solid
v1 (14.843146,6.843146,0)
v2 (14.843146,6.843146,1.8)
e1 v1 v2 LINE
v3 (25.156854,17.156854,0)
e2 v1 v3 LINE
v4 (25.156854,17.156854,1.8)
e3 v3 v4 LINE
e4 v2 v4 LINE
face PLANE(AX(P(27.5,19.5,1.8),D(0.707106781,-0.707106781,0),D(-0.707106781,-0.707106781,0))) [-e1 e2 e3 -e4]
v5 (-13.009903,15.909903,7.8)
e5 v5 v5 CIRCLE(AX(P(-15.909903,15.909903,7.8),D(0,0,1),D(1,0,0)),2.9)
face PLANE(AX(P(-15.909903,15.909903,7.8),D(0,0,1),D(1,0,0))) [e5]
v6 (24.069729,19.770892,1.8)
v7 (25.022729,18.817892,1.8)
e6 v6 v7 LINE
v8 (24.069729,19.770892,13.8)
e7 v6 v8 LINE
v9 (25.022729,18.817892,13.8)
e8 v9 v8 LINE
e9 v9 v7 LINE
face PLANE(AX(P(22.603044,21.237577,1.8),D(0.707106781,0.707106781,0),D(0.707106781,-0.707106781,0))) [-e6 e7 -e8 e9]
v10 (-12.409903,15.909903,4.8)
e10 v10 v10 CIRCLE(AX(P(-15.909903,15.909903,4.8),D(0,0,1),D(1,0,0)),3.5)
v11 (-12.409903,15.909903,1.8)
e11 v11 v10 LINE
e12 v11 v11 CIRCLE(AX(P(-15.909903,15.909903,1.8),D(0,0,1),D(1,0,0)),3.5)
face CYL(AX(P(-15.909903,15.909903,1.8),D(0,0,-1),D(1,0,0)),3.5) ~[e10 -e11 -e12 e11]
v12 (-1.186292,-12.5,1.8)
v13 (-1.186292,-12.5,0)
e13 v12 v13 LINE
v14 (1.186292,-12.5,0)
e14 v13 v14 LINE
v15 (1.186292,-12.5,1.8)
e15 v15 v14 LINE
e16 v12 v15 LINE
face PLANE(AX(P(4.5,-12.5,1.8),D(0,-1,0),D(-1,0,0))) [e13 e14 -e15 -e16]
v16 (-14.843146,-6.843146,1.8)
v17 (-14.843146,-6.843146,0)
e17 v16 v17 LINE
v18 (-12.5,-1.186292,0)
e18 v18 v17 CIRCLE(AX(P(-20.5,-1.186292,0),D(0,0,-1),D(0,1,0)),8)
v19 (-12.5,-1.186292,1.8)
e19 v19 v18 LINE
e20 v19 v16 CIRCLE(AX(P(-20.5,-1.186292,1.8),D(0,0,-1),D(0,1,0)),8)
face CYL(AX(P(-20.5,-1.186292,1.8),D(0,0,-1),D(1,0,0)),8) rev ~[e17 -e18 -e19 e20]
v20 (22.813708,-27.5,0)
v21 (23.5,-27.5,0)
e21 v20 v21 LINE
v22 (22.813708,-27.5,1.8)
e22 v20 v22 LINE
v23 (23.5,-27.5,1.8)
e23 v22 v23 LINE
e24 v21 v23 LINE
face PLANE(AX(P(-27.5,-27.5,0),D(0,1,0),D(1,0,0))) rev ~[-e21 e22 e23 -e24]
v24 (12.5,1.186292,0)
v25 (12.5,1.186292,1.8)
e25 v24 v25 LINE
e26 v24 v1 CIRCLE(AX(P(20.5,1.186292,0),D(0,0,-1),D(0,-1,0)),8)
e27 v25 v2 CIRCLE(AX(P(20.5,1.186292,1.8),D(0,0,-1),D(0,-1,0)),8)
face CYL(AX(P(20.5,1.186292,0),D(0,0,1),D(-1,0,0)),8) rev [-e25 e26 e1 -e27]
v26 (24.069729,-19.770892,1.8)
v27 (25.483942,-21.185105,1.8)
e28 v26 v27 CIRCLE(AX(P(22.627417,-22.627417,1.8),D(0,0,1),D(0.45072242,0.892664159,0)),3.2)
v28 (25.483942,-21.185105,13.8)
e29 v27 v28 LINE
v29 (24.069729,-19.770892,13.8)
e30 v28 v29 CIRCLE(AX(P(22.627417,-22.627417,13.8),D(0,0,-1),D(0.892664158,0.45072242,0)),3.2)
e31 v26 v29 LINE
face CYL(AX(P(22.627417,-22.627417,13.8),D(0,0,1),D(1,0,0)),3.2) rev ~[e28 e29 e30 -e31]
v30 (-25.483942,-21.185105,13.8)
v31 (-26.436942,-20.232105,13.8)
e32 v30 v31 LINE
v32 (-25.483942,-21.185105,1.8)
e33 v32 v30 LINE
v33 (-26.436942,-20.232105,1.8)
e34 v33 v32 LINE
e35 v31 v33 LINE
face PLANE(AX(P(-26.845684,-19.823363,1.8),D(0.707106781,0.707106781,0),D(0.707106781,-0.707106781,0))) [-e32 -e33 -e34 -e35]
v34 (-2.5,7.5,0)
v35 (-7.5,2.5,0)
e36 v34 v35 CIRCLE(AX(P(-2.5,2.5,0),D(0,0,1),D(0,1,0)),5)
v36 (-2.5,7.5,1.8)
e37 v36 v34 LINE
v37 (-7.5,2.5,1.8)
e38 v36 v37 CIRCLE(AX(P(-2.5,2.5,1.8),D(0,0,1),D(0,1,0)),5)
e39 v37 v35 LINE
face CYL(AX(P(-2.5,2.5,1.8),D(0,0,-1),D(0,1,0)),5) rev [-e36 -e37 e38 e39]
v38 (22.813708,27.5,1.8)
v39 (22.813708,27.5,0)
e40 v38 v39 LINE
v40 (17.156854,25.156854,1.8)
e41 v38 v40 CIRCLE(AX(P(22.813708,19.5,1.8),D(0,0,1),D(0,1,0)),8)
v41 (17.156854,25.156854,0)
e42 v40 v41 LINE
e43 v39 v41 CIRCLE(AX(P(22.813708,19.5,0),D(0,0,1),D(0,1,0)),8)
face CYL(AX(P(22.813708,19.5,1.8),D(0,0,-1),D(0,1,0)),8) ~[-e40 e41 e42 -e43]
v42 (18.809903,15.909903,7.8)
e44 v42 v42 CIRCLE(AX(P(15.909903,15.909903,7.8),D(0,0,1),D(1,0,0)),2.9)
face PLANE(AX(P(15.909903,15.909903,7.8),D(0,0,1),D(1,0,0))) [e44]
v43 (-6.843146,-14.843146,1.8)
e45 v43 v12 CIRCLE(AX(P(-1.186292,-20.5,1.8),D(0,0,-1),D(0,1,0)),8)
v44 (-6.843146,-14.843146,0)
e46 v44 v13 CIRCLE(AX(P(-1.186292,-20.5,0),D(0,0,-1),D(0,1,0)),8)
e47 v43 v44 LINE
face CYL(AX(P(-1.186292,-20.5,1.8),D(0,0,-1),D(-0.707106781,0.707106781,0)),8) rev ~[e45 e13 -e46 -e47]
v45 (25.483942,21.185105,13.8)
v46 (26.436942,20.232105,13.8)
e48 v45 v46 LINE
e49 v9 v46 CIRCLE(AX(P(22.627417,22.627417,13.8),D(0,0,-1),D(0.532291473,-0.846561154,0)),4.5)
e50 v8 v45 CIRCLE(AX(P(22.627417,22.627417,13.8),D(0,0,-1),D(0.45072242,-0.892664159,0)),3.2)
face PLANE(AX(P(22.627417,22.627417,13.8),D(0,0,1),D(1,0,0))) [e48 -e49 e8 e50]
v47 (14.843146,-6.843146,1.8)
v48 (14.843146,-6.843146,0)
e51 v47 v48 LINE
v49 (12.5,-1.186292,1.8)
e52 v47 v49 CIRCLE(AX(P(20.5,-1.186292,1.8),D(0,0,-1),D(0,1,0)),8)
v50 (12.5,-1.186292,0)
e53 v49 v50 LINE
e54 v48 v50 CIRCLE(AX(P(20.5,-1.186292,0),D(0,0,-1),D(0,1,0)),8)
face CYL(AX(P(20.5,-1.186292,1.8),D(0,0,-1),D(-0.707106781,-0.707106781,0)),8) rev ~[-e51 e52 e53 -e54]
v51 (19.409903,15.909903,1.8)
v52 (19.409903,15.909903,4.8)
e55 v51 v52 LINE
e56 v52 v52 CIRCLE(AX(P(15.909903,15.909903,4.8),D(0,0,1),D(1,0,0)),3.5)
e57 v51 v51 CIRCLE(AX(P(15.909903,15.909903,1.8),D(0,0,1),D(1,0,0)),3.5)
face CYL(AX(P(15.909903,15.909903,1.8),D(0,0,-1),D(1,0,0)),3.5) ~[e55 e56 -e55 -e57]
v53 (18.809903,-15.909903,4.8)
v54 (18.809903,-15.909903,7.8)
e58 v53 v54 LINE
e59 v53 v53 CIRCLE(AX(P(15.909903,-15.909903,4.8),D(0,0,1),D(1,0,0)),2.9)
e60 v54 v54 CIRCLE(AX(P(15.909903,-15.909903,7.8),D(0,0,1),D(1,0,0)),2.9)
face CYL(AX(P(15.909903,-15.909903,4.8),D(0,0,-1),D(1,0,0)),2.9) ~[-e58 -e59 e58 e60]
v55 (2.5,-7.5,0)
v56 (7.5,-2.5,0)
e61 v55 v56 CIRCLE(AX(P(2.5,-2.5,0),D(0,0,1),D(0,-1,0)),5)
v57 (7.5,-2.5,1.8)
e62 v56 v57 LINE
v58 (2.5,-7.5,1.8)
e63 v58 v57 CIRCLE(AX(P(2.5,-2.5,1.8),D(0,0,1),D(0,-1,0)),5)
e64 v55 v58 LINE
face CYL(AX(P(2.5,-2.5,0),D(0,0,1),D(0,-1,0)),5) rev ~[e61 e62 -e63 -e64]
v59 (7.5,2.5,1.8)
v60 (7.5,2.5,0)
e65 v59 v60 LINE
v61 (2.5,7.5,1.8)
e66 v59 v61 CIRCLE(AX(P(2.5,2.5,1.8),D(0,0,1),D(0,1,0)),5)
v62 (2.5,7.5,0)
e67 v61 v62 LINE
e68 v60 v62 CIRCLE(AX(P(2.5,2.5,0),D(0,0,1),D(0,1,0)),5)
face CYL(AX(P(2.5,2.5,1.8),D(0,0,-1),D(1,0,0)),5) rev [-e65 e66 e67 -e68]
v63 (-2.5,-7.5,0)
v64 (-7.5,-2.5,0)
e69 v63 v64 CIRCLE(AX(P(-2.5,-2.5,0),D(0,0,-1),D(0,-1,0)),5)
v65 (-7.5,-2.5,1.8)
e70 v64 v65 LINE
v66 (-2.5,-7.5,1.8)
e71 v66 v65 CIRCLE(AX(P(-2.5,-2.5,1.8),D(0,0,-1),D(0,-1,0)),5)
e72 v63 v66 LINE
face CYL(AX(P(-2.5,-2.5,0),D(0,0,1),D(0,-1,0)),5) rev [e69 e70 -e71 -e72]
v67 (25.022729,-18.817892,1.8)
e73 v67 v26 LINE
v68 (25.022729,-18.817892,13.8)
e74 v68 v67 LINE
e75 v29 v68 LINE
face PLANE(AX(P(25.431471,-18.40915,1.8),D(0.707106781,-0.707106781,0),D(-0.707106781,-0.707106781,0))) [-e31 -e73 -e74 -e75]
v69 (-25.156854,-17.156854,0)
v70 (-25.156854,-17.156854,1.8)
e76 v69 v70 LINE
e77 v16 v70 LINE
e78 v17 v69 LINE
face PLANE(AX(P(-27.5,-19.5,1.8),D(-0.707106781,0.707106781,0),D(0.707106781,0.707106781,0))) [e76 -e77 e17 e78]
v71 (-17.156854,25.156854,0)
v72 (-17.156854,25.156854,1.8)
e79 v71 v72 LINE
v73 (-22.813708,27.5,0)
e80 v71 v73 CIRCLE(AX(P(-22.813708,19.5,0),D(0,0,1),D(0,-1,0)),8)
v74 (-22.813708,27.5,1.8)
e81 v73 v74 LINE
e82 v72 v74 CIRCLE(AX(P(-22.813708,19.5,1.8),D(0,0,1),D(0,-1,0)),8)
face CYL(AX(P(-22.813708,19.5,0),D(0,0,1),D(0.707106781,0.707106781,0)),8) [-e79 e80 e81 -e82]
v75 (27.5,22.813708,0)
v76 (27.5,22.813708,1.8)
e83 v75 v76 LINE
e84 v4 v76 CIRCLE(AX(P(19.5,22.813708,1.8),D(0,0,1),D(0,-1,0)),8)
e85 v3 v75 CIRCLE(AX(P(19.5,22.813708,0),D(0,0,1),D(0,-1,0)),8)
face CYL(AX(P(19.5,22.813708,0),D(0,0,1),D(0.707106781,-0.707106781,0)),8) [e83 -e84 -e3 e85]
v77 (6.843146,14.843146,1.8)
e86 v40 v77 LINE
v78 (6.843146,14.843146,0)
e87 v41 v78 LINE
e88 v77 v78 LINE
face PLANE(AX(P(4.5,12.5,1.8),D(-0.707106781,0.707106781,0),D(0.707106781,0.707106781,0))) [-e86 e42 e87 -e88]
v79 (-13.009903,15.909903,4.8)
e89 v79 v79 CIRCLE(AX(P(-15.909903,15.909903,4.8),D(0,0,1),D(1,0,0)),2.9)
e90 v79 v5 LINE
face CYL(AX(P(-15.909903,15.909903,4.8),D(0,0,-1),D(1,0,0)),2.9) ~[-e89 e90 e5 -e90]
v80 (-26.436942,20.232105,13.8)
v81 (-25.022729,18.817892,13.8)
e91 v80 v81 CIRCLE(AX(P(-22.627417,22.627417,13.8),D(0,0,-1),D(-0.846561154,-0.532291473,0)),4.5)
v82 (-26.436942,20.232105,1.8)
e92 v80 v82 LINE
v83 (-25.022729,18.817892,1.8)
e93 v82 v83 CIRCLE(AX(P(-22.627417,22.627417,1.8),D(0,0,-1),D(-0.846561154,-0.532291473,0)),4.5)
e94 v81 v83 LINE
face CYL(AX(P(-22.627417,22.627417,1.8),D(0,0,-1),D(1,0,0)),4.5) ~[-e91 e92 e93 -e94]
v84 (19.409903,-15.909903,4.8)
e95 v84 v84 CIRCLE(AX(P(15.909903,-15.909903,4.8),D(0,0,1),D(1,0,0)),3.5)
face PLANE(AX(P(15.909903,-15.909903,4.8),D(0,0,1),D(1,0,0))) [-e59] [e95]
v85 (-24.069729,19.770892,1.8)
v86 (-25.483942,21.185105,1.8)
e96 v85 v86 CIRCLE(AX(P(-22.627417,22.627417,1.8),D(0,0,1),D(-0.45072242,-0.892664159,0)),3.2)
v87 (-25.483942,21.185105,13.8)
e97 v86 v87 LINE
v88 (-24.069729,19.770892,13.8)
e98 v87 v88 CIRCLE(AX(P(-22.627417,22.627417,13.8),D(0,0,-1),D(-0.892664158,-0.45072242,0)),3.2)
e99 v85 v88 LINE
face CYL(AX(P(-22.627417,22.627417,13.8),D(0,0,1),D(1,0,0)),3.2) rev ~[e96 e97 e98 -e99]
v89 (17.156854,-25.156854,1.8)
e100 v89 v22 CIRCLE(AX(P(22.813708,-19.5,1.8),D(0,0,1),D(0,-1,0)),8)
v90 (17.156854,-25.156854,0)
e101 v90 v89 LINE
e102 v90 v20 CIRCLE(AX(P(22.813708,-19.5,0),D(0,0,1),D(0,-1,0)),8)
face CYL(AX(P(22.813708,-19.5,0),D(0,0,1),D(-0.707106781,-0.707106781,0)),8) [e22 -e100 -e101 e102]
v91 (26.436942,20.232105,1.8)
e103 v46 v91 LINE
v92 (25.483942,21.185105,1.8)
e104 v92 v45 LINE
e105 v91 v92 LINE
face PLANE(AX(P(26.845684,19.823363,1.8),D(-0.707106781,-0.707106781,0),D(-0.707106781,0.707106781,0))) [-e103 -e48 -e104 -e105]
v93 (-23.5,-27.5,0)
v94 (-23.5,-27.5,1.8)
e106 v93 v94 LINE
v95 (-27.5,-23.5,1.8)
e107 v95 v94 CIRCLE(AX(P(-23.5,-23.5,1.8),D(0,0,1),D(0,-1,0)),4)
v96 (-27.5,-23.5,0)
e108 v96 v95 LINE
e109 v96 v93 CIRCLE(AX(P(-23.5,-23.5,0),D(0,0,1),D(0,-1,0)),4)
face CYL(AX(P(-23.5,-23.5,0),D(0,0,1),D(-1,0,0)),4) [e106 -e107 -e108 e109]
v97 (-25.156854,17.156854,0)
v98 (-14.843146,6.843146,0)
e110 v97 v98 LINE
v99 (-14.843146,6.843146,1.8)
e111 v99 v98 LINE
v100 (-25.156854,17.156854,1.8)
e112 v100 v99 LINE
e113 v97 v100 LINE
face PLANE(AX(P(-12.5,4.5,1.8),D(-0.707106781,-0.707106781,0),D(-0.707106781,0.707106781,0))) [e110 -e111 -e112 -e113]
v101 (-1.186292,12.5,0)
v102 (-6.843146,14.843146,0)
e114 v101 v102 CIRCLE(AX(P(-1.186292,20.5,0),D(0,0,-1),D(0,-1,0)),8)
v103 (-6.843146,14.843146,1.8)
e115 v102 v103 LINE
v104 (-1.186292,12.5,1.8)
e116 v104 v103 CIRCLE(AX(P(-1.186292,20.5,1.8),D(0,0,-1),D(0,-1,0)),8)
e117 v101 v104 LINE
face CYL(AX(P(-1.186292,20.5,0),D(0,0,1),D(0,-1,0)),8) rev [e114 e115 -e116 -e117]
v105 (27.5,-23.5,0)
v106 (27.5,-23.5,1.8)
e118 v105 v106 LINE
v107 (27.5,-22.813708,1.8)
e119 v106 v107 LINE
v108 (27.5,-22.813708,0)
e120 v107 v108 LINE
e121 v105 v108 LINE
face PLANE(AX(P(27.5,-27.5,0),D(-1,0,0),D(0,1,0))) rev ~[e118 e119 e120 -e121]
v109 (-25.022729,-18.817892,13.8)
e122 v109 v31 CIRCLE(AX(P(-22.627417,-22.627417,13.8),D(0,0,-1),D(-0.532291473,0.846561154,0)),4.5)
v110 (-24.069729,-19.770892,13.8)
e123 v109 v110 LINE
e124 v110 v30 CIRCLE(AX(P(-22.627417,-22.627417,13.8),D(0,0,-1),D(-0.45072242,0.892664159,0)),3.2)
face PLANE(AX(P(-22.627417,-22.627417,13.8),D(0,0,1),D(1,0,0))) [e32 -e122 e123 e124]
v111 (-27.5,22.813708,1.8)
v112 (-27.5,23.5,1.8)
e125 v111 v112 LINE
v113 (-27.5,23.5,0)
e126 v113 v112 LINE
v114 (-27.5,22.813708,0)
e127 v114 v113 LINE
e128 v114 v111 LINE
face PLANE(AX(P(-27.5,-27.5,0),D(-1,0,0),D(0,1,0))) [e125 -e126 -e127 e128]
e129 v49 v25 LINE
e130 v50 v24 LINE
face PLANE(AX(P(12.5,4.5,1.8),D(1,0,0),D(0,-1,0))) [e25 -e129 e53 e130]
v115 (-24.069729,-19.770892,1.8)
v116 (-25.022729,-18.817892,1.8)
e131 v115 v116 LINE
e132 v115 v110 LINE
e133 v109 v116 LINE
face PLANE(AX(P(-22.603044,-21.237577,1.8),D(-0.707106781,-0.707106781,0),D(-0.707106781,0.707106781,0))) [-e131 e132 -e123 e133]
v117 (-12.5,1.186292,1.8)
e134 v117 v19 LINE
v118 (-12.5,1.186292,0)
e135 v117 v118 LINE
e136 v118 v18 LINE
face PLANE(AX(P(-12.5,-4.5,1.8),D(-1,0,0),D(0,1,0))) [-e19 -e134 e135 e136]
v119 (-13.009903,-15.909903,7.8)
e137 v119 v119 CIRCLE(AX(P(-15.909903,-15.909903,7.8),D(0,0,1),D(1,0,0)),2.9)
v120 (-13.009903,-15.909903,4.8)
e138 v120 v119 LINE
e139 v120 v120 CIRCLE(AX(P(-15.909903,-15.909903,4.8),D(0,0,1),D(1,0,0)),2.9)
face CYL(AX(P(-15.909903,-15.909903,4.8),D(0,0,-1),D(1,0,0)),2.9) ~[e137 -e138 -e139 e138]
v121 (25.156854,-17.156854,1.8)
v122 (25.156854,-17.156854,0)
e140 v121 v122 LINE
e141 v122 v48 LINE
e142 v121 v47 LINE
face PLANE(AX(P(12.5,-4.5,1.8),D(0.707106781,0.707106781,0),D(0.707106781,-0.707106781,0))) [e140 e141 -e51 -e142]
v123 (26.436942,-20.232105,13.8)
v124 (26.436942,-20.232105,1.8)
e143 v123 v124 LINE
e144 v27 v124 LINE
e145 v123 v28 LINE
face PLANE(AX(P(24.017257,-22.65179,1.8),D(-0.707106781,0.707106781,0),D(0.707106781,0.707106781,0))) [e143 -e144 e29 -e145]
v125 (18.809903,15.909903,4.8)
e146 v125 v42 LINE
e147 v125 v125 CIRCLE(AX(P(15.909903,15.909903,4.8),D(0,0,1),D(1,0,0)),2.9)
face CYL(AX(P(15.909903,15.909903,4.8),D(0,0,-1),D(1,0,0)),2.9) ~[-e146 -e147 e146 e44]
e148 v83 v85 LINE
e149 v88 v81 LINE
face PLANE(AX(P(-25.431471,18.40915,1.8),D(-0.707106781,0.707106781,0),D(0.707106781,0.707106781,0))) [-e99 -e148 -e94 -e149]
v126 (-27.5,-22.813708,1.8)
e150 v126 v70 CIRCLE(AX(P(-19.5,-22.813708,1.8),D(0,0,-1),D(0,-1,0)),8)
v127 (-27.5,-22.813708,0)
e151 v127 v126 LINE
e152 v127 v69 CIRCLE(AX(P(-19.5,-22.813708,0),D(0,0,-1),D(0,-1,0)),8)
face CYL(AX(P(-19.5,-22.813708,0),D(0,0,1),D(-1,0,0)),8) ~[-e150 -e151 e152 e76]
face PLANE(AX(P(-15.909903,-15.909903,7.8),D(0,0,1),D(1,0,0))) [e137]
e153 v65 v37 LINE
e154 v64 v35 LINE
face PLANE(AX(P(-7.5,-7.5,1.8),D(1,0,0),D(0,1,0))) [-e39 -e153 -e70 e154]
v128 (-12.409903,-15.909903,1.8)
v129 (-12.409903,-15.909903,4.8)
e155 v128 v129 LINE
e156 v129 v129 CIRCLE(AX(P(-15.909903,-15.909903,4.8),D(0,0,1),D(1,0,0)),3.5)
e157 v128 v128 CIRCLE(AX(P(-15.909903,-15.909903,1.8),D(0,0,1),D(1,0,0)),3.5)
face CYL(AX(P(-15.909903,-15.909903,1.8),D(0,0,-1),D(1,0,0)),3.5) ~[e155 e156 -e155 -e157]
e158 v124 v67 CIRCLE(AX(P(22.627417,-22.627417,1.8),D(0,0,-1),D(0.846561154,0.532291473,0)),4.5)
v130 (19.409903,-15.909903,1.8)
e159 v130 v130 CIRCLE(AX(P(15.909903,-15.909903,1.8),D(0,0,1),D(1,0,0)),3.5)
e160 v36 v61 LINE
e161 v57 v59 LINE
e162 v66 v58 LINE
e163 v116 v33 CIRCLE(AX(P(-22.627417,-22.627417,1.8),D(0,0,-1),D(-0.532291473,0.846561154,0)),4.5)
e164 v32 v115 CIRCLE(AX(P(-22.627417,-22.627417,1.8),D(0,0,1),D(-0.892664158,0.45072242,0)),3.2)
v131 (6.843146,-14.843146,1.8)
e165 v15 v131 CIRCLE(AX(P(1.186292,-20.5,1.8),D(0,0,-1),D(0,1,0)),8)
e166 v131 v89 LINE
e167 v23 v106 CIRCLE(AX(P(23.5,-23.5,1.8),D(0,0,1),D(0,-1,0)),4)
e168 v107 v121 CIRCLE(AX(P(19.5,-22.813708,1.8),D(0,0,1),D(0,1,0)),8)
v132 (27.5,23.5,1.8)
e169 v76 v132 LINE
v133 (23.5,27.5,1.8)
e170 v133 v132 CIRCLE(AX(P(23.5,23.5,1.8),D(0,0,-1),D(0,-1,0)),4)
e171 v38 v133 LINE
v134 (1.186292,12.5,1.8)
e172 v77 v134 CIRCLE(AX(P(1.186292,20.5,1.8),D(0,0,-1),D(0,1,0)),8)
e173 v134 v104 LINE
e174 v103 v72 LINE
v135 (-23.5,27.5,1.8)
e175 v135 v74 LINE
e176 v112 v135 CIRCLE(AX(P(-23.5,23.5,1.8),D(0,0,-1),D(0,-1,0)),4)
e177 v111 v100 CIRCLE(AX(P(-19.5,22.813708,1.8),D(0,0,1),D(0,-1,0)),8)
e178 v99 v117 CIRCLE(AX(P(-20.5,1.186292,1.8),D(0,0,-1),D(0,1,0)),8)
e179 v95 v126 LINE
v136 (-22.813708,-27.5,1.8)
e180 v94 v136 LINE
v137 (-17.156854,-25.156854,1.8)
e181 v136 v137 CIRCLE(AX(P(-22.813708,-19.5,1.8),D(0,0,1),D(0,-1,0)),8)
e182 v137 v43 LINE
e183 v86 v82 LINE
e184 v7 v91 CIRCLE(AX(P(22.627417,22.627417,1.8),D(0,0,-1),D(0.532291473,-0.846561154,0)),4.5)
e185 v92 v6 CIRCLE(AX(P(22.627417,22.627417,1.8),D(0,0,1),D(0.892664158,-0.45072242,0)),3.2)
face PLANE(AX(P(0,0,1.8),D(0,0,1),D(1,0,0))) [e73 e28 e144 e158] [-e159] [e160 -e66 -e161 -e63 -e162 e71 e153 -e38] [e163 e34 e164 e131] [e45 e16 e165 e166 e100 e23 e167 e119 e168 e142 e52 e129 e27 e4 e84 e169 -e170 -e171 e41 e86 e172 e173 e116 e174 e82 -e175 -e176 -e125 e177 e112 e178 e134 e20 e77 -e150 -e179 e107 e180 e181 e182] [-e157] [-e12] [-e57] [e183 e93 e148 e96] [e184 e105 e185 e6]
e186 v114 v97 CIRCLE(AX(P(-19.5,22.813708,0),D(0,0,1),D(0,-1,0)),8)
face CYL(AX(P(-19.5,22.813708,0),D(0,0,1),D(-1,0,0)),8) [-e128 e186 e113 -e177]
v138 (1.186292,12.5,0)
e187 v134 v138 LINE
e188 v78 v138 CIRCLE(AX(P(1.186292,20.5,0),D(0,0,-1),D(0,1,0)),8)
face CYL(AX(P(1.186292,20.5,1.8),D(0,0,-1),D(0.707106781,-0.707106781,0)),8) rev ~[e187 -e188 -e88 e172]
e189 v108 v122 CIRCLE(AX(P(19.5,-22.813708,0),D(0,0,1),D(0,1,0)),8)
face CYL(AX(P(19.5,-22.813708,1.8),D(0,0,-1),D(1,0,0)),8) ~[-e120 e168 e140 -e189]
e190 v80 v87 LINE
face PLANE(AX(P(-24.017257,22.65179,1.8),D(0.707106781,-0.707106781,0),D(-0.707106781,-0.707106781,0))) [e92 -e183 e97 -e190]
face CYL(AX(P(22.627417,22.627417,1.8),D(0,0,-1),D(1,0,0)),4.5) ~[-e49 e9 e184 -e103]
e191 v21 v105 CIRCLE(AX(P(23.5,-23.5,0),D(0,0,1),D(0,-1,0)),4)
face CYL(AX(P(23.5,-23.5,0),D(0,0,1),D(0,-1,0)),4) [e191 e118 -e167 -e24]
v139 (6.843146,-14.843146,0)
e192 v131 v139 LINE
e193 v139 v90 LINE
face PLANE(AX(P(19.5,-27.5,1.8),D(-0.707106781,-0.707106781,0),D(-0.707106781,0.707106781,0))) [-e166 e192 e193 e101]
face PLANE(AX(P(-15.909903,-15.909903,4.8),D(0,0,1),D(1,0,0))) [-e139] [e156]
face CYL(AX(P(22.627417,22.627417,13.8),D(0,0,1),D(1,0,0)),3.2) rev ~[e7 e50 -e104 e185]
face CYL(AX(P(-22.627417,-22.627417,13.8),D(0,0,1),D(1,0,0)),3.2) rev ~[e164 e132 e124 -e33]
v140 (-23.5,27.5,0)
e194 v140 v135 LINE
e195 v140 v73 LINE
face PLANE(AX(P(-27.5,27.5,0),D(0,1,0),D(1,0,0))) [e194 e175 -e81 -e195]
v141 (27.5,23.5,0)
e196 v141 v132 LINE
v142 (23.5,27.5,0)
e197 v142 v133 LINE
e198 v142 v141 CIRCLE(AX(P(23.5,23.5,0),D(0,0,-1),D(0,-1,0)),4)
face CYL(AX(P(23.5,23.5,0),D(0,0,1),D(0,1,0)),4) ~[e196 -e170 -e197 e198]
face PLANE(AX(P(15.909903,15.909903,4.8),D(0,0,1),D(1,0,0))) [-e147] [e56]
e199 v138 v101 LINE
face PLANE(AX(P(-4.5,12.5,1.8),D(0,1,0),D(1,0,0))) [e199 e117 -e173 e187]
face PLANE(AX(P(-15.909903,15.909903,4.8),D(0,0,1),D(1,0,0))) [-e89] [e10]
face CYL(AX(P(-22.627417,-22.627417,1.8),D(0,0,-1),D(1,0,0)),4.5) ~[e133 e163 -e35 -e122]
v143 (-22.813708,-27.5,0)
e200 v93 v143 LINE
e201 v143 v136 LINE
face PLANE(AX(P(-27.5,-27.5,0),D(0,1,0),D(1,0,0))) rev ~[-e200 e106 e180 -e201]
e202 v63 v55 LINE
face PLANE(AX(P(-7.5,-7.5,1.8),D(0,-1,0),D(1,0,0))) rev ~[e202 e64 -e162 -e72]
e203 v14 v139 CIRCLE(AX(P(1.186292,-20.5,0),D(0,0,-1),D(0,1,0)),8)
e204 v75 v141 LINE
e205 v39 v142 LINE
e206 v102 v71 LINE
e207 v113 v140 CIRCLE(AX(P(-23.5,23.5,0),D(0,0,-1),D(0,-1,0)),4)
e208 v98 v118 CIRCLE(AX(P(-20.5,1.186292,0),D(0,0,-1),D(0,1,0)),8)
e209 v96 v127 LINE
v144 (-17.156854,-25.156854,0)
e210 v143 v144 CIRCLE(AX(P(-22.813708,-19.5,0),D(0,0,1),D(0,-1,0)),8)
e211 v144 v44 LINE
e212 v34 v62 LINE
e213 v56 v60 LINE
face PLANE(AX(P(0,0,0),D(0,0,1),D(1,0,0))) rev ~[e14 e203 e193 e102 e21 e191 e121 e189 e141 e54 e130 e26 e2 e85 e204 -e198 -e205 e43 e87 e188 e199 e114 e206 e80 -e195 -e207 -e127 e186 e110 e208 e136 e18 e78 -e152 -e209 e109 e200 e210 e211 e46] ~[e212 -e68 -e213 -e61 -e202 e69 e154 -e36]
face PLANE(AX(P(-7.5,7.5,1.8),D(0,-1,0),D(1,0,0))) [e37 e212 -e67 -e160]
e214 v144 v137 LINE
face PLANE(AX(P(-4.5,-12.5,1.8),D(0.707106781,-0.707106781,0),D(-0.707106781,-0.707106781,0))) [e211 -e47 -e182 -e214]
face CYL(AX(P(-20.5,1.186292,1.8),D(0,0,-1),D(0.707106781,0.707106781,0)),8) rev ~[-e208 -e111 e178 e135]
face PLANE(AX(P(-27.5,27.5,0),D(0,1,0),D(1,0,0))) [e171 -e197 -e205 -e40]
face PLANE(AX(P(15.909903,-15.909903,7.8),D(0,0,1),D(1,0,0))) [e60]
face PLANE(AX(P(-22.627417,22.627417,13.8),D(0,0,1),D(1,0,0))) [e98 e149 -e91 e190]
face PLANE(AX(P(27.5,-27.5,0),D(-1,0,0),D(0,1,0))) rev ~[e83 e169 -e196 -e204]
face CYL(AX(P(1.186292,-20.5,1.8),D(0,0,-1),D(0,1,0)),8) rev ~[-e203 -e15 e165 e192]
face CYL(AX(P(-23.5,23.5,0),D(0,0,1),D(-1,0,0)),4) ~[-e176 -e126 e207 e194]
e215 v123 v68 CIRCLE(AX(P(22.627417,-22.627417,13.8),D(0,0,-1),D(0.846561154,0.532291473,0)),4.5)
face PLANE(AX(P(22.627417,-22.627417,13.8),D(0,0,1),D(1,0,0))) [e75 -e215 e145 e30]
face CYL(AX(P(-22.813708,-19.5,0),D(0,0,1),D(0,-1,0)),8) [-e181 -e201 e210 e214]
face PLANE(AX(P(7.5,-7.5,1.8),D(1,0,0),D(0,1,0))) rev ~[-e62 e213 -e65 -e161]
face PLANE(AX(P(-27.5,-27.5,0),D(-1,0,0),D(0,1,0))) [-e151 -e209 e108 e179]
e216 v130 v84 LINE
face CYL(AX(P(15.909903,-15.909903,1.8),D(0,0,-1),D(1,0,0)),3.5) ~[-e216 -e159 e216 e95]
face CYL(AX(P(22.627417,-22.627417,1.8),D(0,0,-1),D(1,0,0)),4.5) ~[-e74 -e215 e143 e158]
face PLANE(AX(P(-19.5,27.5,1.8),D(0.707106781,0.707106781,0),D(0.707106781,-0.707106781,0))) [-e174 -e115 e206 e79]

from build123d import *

# Parameters (mm, degrees)
F0_W      = 55
F0_H      = 55
F1_DEPTH  = 1.8
F2_R      = 3.5
F3_DEPTH  = 3
F4_R      = 2.9
F5_DEPTH  = 3
F6_R      = 4.5
F7_DEPTH  = 12
F8_R      = 3.2
F9_DEPTH  = 12
F10_R     = 4
F11_W     = 15
F11_H     = 15
F12_DEPTH = 20
F14_DEPTH = 25
F15_R     = 8
F16_R     = 5


with BuildPart() as f1:
    # F0 (on Top) → F1 (new body)
    with BuildSketch(Plane.XY):
        Rectangle(F0_W, F0_H)
    extrude(amount=F1_DEPTH)

    # F2 (on face) → F3 (join)
    with BuildSketch(Plane.XY.offset(1.8)):
        with Locations((-15.9099025767, 15.9099025767)):
            Circle(F2_R)
        with Locations((15.9099025767, 15.9099025767)):
            Circle(F2_R)
        with Locations((-15.9099025767, -15.9099025767)):
            Circle(F2_R)
        with Locations((15.9099025767, -15.9099025767)):
            Circle(F2_R)
    extrude(amount=F3_DEPTH)

    # F4 (on face) → F5 (join)
    with BuildSketch(Plane.XY.offset(4.8)):
        with Locations((-15.9099025767, 15.9099025767)):
            Circle(F4_R)
        with Locations((15.9099025767, 15.9099025767)):
            Circle(F4_R)
        with Locations((-15.9099025767, -15.9099025767)):
            Circle(F4_R)
        with Locations((15.9099025767, -15.9099025767)):
            Circle(F4_R)
    extrude(amount=F5_DEPTH)

    # F6 (on face) → F7 (join)
    with BuildSketch(Plane.XY.offset(1.8)):
        with Locations((-22.627416998, 22.627416998)):
            Circle(F6_R)
        with Locations((22.627416998, 22.627416998)):
            Circle(F6_R)
        with Locations((22.627416998, -22.627416998)):
            Circle(F6_R)
        with Locations((-22.627416998, -22.627416998)):
            Circle(F6_R)
    extrude(amount=F7_DEPTH)

    # F8 (on face) → F9 (cut)
    with BuildSketch(Plane.XY.offset(13.8)):
        with Locations((-22.627416998, -22.627416998)):
            Circle(F8_R)
        with Locations((22.627416998, -22.627416998)):
            Circle(F8_R)
        with Locations((-22.627416998, 22.627416998)):
            Circle(F8_R)
        with Locations((22.627416998, 22.627416998)):
            Circle(F8_R)
    extrude(amount=-F9_DEPTH, mode=Mode.SUBTRACT)

    # F10
    f10_edges = [f1.edges().sort_by_distance(p)[0] for p in [
        (27.5, -27.5, 0.9),
        (-27.5, -27.5, 0.9),
        (-27.5, 27.5, 0.9),
        (27.5, 27.5, 0.9),
    ]]
    fillet(f10_edges, radius=F10_R)

    # F11 (on face) → F12 (cut, symmetric)
    with BuildSketch(Plane.XY.offset(1.8)):
        Polygon((-12.5, 4.5), (-27.5, 19.5), (-27.5, -19.5), (-12.5, -4.5), align=None)
        Polygon((19.5, 27.5), (-19.5, 27.5), (-4.5, 12.5), (4.5, 12.5), align=None)
        Polygon((27.5, -19.5), (27.5, 19.5), (12.5, 4.5), (12.5, -4.5), align=None)
        Polygon((-4.5, -12.5), (-19.5, -27.5), (19.5, -27.5), (4.5, -12.5), align=None)
        Rectangle(F11_W, F11_H)
    extrude(amount=F12_DEPTH, both=True, mode=Mode.SUBTRACT)

    # F13 (on face) → F14 (cut)
    with BuildSketch(Plane.XY.offset(1.8)):
        Polygon((-26.8456843913, 19.823363167), (-25.4314708289, 18.4091496047), (-22.6030437041, 21.2375767294), (-24.0172572665, 22.6517902918), align=None)
        Polygon((22.6030437041, 21.2375767294), (25.4314708289, 18.4091496047), (26.8456843913, 19.823363167), (24.0172572665, 22.6517902918), align=None)
        Polygon((-25.4314708289, -18.4091496047), (-26.8456843913, -19.823363167), (-24.0172572665, -22.6517902918), (-22.6030437041, -21.2375767294), align=None)
        Polygon((26.8456843913, -19.823363167), (25.4314708289, -18.4091496047), (22.6030437041, -21.2375767294), (24.0172572665, -22.6517902918), align=None)
    extrude(amount=F14_DEPTH, mode=Mode.SUBTRACT)

    # F15
    f15_edges = [f1.edges().sort_by_distance(p)[0] for p in [
        (19.5, -27.5, 0.9),
        (4.5, -12.5, 0.9),
        (-4.5, -12.5, 0.9),
        (-19.5, -27.5, 0.9),
        (-27.5, -19.5, 0.9),
        (-12.5, -4.5, 0.9),
        (-12.5, 4.5, 0.9),
        (-27.5, 19.5, 0.9),
        (-19.5, 27.5, 0.9),
        (-4.5, 12.5, 0.9),
        (4.5, 12.5, 0.9),
        (19.5, 27.5, 0.9),
        (12.5, -4.5, 0.9),
        (12.5, 4.5, 0.9),
        (27.5, 19.5, 0.9),
        (27.5, -19.5, 0.9),
    ]]
    fillet(f15_edges, radius=F15_R)

    # F16
    f16_edges = [f1.edges().sort_by_distance(p)[0] for p in [
        (-7.5, 7.5, 0.9),
        (7.5, 7.5, 0.9),
        (7.5, -7.5, 0.9),
        (-7.5, -7.5, 0.9),
    ]]
    fillet(f16_edges, radius=F16_R)


solid = f1.part
